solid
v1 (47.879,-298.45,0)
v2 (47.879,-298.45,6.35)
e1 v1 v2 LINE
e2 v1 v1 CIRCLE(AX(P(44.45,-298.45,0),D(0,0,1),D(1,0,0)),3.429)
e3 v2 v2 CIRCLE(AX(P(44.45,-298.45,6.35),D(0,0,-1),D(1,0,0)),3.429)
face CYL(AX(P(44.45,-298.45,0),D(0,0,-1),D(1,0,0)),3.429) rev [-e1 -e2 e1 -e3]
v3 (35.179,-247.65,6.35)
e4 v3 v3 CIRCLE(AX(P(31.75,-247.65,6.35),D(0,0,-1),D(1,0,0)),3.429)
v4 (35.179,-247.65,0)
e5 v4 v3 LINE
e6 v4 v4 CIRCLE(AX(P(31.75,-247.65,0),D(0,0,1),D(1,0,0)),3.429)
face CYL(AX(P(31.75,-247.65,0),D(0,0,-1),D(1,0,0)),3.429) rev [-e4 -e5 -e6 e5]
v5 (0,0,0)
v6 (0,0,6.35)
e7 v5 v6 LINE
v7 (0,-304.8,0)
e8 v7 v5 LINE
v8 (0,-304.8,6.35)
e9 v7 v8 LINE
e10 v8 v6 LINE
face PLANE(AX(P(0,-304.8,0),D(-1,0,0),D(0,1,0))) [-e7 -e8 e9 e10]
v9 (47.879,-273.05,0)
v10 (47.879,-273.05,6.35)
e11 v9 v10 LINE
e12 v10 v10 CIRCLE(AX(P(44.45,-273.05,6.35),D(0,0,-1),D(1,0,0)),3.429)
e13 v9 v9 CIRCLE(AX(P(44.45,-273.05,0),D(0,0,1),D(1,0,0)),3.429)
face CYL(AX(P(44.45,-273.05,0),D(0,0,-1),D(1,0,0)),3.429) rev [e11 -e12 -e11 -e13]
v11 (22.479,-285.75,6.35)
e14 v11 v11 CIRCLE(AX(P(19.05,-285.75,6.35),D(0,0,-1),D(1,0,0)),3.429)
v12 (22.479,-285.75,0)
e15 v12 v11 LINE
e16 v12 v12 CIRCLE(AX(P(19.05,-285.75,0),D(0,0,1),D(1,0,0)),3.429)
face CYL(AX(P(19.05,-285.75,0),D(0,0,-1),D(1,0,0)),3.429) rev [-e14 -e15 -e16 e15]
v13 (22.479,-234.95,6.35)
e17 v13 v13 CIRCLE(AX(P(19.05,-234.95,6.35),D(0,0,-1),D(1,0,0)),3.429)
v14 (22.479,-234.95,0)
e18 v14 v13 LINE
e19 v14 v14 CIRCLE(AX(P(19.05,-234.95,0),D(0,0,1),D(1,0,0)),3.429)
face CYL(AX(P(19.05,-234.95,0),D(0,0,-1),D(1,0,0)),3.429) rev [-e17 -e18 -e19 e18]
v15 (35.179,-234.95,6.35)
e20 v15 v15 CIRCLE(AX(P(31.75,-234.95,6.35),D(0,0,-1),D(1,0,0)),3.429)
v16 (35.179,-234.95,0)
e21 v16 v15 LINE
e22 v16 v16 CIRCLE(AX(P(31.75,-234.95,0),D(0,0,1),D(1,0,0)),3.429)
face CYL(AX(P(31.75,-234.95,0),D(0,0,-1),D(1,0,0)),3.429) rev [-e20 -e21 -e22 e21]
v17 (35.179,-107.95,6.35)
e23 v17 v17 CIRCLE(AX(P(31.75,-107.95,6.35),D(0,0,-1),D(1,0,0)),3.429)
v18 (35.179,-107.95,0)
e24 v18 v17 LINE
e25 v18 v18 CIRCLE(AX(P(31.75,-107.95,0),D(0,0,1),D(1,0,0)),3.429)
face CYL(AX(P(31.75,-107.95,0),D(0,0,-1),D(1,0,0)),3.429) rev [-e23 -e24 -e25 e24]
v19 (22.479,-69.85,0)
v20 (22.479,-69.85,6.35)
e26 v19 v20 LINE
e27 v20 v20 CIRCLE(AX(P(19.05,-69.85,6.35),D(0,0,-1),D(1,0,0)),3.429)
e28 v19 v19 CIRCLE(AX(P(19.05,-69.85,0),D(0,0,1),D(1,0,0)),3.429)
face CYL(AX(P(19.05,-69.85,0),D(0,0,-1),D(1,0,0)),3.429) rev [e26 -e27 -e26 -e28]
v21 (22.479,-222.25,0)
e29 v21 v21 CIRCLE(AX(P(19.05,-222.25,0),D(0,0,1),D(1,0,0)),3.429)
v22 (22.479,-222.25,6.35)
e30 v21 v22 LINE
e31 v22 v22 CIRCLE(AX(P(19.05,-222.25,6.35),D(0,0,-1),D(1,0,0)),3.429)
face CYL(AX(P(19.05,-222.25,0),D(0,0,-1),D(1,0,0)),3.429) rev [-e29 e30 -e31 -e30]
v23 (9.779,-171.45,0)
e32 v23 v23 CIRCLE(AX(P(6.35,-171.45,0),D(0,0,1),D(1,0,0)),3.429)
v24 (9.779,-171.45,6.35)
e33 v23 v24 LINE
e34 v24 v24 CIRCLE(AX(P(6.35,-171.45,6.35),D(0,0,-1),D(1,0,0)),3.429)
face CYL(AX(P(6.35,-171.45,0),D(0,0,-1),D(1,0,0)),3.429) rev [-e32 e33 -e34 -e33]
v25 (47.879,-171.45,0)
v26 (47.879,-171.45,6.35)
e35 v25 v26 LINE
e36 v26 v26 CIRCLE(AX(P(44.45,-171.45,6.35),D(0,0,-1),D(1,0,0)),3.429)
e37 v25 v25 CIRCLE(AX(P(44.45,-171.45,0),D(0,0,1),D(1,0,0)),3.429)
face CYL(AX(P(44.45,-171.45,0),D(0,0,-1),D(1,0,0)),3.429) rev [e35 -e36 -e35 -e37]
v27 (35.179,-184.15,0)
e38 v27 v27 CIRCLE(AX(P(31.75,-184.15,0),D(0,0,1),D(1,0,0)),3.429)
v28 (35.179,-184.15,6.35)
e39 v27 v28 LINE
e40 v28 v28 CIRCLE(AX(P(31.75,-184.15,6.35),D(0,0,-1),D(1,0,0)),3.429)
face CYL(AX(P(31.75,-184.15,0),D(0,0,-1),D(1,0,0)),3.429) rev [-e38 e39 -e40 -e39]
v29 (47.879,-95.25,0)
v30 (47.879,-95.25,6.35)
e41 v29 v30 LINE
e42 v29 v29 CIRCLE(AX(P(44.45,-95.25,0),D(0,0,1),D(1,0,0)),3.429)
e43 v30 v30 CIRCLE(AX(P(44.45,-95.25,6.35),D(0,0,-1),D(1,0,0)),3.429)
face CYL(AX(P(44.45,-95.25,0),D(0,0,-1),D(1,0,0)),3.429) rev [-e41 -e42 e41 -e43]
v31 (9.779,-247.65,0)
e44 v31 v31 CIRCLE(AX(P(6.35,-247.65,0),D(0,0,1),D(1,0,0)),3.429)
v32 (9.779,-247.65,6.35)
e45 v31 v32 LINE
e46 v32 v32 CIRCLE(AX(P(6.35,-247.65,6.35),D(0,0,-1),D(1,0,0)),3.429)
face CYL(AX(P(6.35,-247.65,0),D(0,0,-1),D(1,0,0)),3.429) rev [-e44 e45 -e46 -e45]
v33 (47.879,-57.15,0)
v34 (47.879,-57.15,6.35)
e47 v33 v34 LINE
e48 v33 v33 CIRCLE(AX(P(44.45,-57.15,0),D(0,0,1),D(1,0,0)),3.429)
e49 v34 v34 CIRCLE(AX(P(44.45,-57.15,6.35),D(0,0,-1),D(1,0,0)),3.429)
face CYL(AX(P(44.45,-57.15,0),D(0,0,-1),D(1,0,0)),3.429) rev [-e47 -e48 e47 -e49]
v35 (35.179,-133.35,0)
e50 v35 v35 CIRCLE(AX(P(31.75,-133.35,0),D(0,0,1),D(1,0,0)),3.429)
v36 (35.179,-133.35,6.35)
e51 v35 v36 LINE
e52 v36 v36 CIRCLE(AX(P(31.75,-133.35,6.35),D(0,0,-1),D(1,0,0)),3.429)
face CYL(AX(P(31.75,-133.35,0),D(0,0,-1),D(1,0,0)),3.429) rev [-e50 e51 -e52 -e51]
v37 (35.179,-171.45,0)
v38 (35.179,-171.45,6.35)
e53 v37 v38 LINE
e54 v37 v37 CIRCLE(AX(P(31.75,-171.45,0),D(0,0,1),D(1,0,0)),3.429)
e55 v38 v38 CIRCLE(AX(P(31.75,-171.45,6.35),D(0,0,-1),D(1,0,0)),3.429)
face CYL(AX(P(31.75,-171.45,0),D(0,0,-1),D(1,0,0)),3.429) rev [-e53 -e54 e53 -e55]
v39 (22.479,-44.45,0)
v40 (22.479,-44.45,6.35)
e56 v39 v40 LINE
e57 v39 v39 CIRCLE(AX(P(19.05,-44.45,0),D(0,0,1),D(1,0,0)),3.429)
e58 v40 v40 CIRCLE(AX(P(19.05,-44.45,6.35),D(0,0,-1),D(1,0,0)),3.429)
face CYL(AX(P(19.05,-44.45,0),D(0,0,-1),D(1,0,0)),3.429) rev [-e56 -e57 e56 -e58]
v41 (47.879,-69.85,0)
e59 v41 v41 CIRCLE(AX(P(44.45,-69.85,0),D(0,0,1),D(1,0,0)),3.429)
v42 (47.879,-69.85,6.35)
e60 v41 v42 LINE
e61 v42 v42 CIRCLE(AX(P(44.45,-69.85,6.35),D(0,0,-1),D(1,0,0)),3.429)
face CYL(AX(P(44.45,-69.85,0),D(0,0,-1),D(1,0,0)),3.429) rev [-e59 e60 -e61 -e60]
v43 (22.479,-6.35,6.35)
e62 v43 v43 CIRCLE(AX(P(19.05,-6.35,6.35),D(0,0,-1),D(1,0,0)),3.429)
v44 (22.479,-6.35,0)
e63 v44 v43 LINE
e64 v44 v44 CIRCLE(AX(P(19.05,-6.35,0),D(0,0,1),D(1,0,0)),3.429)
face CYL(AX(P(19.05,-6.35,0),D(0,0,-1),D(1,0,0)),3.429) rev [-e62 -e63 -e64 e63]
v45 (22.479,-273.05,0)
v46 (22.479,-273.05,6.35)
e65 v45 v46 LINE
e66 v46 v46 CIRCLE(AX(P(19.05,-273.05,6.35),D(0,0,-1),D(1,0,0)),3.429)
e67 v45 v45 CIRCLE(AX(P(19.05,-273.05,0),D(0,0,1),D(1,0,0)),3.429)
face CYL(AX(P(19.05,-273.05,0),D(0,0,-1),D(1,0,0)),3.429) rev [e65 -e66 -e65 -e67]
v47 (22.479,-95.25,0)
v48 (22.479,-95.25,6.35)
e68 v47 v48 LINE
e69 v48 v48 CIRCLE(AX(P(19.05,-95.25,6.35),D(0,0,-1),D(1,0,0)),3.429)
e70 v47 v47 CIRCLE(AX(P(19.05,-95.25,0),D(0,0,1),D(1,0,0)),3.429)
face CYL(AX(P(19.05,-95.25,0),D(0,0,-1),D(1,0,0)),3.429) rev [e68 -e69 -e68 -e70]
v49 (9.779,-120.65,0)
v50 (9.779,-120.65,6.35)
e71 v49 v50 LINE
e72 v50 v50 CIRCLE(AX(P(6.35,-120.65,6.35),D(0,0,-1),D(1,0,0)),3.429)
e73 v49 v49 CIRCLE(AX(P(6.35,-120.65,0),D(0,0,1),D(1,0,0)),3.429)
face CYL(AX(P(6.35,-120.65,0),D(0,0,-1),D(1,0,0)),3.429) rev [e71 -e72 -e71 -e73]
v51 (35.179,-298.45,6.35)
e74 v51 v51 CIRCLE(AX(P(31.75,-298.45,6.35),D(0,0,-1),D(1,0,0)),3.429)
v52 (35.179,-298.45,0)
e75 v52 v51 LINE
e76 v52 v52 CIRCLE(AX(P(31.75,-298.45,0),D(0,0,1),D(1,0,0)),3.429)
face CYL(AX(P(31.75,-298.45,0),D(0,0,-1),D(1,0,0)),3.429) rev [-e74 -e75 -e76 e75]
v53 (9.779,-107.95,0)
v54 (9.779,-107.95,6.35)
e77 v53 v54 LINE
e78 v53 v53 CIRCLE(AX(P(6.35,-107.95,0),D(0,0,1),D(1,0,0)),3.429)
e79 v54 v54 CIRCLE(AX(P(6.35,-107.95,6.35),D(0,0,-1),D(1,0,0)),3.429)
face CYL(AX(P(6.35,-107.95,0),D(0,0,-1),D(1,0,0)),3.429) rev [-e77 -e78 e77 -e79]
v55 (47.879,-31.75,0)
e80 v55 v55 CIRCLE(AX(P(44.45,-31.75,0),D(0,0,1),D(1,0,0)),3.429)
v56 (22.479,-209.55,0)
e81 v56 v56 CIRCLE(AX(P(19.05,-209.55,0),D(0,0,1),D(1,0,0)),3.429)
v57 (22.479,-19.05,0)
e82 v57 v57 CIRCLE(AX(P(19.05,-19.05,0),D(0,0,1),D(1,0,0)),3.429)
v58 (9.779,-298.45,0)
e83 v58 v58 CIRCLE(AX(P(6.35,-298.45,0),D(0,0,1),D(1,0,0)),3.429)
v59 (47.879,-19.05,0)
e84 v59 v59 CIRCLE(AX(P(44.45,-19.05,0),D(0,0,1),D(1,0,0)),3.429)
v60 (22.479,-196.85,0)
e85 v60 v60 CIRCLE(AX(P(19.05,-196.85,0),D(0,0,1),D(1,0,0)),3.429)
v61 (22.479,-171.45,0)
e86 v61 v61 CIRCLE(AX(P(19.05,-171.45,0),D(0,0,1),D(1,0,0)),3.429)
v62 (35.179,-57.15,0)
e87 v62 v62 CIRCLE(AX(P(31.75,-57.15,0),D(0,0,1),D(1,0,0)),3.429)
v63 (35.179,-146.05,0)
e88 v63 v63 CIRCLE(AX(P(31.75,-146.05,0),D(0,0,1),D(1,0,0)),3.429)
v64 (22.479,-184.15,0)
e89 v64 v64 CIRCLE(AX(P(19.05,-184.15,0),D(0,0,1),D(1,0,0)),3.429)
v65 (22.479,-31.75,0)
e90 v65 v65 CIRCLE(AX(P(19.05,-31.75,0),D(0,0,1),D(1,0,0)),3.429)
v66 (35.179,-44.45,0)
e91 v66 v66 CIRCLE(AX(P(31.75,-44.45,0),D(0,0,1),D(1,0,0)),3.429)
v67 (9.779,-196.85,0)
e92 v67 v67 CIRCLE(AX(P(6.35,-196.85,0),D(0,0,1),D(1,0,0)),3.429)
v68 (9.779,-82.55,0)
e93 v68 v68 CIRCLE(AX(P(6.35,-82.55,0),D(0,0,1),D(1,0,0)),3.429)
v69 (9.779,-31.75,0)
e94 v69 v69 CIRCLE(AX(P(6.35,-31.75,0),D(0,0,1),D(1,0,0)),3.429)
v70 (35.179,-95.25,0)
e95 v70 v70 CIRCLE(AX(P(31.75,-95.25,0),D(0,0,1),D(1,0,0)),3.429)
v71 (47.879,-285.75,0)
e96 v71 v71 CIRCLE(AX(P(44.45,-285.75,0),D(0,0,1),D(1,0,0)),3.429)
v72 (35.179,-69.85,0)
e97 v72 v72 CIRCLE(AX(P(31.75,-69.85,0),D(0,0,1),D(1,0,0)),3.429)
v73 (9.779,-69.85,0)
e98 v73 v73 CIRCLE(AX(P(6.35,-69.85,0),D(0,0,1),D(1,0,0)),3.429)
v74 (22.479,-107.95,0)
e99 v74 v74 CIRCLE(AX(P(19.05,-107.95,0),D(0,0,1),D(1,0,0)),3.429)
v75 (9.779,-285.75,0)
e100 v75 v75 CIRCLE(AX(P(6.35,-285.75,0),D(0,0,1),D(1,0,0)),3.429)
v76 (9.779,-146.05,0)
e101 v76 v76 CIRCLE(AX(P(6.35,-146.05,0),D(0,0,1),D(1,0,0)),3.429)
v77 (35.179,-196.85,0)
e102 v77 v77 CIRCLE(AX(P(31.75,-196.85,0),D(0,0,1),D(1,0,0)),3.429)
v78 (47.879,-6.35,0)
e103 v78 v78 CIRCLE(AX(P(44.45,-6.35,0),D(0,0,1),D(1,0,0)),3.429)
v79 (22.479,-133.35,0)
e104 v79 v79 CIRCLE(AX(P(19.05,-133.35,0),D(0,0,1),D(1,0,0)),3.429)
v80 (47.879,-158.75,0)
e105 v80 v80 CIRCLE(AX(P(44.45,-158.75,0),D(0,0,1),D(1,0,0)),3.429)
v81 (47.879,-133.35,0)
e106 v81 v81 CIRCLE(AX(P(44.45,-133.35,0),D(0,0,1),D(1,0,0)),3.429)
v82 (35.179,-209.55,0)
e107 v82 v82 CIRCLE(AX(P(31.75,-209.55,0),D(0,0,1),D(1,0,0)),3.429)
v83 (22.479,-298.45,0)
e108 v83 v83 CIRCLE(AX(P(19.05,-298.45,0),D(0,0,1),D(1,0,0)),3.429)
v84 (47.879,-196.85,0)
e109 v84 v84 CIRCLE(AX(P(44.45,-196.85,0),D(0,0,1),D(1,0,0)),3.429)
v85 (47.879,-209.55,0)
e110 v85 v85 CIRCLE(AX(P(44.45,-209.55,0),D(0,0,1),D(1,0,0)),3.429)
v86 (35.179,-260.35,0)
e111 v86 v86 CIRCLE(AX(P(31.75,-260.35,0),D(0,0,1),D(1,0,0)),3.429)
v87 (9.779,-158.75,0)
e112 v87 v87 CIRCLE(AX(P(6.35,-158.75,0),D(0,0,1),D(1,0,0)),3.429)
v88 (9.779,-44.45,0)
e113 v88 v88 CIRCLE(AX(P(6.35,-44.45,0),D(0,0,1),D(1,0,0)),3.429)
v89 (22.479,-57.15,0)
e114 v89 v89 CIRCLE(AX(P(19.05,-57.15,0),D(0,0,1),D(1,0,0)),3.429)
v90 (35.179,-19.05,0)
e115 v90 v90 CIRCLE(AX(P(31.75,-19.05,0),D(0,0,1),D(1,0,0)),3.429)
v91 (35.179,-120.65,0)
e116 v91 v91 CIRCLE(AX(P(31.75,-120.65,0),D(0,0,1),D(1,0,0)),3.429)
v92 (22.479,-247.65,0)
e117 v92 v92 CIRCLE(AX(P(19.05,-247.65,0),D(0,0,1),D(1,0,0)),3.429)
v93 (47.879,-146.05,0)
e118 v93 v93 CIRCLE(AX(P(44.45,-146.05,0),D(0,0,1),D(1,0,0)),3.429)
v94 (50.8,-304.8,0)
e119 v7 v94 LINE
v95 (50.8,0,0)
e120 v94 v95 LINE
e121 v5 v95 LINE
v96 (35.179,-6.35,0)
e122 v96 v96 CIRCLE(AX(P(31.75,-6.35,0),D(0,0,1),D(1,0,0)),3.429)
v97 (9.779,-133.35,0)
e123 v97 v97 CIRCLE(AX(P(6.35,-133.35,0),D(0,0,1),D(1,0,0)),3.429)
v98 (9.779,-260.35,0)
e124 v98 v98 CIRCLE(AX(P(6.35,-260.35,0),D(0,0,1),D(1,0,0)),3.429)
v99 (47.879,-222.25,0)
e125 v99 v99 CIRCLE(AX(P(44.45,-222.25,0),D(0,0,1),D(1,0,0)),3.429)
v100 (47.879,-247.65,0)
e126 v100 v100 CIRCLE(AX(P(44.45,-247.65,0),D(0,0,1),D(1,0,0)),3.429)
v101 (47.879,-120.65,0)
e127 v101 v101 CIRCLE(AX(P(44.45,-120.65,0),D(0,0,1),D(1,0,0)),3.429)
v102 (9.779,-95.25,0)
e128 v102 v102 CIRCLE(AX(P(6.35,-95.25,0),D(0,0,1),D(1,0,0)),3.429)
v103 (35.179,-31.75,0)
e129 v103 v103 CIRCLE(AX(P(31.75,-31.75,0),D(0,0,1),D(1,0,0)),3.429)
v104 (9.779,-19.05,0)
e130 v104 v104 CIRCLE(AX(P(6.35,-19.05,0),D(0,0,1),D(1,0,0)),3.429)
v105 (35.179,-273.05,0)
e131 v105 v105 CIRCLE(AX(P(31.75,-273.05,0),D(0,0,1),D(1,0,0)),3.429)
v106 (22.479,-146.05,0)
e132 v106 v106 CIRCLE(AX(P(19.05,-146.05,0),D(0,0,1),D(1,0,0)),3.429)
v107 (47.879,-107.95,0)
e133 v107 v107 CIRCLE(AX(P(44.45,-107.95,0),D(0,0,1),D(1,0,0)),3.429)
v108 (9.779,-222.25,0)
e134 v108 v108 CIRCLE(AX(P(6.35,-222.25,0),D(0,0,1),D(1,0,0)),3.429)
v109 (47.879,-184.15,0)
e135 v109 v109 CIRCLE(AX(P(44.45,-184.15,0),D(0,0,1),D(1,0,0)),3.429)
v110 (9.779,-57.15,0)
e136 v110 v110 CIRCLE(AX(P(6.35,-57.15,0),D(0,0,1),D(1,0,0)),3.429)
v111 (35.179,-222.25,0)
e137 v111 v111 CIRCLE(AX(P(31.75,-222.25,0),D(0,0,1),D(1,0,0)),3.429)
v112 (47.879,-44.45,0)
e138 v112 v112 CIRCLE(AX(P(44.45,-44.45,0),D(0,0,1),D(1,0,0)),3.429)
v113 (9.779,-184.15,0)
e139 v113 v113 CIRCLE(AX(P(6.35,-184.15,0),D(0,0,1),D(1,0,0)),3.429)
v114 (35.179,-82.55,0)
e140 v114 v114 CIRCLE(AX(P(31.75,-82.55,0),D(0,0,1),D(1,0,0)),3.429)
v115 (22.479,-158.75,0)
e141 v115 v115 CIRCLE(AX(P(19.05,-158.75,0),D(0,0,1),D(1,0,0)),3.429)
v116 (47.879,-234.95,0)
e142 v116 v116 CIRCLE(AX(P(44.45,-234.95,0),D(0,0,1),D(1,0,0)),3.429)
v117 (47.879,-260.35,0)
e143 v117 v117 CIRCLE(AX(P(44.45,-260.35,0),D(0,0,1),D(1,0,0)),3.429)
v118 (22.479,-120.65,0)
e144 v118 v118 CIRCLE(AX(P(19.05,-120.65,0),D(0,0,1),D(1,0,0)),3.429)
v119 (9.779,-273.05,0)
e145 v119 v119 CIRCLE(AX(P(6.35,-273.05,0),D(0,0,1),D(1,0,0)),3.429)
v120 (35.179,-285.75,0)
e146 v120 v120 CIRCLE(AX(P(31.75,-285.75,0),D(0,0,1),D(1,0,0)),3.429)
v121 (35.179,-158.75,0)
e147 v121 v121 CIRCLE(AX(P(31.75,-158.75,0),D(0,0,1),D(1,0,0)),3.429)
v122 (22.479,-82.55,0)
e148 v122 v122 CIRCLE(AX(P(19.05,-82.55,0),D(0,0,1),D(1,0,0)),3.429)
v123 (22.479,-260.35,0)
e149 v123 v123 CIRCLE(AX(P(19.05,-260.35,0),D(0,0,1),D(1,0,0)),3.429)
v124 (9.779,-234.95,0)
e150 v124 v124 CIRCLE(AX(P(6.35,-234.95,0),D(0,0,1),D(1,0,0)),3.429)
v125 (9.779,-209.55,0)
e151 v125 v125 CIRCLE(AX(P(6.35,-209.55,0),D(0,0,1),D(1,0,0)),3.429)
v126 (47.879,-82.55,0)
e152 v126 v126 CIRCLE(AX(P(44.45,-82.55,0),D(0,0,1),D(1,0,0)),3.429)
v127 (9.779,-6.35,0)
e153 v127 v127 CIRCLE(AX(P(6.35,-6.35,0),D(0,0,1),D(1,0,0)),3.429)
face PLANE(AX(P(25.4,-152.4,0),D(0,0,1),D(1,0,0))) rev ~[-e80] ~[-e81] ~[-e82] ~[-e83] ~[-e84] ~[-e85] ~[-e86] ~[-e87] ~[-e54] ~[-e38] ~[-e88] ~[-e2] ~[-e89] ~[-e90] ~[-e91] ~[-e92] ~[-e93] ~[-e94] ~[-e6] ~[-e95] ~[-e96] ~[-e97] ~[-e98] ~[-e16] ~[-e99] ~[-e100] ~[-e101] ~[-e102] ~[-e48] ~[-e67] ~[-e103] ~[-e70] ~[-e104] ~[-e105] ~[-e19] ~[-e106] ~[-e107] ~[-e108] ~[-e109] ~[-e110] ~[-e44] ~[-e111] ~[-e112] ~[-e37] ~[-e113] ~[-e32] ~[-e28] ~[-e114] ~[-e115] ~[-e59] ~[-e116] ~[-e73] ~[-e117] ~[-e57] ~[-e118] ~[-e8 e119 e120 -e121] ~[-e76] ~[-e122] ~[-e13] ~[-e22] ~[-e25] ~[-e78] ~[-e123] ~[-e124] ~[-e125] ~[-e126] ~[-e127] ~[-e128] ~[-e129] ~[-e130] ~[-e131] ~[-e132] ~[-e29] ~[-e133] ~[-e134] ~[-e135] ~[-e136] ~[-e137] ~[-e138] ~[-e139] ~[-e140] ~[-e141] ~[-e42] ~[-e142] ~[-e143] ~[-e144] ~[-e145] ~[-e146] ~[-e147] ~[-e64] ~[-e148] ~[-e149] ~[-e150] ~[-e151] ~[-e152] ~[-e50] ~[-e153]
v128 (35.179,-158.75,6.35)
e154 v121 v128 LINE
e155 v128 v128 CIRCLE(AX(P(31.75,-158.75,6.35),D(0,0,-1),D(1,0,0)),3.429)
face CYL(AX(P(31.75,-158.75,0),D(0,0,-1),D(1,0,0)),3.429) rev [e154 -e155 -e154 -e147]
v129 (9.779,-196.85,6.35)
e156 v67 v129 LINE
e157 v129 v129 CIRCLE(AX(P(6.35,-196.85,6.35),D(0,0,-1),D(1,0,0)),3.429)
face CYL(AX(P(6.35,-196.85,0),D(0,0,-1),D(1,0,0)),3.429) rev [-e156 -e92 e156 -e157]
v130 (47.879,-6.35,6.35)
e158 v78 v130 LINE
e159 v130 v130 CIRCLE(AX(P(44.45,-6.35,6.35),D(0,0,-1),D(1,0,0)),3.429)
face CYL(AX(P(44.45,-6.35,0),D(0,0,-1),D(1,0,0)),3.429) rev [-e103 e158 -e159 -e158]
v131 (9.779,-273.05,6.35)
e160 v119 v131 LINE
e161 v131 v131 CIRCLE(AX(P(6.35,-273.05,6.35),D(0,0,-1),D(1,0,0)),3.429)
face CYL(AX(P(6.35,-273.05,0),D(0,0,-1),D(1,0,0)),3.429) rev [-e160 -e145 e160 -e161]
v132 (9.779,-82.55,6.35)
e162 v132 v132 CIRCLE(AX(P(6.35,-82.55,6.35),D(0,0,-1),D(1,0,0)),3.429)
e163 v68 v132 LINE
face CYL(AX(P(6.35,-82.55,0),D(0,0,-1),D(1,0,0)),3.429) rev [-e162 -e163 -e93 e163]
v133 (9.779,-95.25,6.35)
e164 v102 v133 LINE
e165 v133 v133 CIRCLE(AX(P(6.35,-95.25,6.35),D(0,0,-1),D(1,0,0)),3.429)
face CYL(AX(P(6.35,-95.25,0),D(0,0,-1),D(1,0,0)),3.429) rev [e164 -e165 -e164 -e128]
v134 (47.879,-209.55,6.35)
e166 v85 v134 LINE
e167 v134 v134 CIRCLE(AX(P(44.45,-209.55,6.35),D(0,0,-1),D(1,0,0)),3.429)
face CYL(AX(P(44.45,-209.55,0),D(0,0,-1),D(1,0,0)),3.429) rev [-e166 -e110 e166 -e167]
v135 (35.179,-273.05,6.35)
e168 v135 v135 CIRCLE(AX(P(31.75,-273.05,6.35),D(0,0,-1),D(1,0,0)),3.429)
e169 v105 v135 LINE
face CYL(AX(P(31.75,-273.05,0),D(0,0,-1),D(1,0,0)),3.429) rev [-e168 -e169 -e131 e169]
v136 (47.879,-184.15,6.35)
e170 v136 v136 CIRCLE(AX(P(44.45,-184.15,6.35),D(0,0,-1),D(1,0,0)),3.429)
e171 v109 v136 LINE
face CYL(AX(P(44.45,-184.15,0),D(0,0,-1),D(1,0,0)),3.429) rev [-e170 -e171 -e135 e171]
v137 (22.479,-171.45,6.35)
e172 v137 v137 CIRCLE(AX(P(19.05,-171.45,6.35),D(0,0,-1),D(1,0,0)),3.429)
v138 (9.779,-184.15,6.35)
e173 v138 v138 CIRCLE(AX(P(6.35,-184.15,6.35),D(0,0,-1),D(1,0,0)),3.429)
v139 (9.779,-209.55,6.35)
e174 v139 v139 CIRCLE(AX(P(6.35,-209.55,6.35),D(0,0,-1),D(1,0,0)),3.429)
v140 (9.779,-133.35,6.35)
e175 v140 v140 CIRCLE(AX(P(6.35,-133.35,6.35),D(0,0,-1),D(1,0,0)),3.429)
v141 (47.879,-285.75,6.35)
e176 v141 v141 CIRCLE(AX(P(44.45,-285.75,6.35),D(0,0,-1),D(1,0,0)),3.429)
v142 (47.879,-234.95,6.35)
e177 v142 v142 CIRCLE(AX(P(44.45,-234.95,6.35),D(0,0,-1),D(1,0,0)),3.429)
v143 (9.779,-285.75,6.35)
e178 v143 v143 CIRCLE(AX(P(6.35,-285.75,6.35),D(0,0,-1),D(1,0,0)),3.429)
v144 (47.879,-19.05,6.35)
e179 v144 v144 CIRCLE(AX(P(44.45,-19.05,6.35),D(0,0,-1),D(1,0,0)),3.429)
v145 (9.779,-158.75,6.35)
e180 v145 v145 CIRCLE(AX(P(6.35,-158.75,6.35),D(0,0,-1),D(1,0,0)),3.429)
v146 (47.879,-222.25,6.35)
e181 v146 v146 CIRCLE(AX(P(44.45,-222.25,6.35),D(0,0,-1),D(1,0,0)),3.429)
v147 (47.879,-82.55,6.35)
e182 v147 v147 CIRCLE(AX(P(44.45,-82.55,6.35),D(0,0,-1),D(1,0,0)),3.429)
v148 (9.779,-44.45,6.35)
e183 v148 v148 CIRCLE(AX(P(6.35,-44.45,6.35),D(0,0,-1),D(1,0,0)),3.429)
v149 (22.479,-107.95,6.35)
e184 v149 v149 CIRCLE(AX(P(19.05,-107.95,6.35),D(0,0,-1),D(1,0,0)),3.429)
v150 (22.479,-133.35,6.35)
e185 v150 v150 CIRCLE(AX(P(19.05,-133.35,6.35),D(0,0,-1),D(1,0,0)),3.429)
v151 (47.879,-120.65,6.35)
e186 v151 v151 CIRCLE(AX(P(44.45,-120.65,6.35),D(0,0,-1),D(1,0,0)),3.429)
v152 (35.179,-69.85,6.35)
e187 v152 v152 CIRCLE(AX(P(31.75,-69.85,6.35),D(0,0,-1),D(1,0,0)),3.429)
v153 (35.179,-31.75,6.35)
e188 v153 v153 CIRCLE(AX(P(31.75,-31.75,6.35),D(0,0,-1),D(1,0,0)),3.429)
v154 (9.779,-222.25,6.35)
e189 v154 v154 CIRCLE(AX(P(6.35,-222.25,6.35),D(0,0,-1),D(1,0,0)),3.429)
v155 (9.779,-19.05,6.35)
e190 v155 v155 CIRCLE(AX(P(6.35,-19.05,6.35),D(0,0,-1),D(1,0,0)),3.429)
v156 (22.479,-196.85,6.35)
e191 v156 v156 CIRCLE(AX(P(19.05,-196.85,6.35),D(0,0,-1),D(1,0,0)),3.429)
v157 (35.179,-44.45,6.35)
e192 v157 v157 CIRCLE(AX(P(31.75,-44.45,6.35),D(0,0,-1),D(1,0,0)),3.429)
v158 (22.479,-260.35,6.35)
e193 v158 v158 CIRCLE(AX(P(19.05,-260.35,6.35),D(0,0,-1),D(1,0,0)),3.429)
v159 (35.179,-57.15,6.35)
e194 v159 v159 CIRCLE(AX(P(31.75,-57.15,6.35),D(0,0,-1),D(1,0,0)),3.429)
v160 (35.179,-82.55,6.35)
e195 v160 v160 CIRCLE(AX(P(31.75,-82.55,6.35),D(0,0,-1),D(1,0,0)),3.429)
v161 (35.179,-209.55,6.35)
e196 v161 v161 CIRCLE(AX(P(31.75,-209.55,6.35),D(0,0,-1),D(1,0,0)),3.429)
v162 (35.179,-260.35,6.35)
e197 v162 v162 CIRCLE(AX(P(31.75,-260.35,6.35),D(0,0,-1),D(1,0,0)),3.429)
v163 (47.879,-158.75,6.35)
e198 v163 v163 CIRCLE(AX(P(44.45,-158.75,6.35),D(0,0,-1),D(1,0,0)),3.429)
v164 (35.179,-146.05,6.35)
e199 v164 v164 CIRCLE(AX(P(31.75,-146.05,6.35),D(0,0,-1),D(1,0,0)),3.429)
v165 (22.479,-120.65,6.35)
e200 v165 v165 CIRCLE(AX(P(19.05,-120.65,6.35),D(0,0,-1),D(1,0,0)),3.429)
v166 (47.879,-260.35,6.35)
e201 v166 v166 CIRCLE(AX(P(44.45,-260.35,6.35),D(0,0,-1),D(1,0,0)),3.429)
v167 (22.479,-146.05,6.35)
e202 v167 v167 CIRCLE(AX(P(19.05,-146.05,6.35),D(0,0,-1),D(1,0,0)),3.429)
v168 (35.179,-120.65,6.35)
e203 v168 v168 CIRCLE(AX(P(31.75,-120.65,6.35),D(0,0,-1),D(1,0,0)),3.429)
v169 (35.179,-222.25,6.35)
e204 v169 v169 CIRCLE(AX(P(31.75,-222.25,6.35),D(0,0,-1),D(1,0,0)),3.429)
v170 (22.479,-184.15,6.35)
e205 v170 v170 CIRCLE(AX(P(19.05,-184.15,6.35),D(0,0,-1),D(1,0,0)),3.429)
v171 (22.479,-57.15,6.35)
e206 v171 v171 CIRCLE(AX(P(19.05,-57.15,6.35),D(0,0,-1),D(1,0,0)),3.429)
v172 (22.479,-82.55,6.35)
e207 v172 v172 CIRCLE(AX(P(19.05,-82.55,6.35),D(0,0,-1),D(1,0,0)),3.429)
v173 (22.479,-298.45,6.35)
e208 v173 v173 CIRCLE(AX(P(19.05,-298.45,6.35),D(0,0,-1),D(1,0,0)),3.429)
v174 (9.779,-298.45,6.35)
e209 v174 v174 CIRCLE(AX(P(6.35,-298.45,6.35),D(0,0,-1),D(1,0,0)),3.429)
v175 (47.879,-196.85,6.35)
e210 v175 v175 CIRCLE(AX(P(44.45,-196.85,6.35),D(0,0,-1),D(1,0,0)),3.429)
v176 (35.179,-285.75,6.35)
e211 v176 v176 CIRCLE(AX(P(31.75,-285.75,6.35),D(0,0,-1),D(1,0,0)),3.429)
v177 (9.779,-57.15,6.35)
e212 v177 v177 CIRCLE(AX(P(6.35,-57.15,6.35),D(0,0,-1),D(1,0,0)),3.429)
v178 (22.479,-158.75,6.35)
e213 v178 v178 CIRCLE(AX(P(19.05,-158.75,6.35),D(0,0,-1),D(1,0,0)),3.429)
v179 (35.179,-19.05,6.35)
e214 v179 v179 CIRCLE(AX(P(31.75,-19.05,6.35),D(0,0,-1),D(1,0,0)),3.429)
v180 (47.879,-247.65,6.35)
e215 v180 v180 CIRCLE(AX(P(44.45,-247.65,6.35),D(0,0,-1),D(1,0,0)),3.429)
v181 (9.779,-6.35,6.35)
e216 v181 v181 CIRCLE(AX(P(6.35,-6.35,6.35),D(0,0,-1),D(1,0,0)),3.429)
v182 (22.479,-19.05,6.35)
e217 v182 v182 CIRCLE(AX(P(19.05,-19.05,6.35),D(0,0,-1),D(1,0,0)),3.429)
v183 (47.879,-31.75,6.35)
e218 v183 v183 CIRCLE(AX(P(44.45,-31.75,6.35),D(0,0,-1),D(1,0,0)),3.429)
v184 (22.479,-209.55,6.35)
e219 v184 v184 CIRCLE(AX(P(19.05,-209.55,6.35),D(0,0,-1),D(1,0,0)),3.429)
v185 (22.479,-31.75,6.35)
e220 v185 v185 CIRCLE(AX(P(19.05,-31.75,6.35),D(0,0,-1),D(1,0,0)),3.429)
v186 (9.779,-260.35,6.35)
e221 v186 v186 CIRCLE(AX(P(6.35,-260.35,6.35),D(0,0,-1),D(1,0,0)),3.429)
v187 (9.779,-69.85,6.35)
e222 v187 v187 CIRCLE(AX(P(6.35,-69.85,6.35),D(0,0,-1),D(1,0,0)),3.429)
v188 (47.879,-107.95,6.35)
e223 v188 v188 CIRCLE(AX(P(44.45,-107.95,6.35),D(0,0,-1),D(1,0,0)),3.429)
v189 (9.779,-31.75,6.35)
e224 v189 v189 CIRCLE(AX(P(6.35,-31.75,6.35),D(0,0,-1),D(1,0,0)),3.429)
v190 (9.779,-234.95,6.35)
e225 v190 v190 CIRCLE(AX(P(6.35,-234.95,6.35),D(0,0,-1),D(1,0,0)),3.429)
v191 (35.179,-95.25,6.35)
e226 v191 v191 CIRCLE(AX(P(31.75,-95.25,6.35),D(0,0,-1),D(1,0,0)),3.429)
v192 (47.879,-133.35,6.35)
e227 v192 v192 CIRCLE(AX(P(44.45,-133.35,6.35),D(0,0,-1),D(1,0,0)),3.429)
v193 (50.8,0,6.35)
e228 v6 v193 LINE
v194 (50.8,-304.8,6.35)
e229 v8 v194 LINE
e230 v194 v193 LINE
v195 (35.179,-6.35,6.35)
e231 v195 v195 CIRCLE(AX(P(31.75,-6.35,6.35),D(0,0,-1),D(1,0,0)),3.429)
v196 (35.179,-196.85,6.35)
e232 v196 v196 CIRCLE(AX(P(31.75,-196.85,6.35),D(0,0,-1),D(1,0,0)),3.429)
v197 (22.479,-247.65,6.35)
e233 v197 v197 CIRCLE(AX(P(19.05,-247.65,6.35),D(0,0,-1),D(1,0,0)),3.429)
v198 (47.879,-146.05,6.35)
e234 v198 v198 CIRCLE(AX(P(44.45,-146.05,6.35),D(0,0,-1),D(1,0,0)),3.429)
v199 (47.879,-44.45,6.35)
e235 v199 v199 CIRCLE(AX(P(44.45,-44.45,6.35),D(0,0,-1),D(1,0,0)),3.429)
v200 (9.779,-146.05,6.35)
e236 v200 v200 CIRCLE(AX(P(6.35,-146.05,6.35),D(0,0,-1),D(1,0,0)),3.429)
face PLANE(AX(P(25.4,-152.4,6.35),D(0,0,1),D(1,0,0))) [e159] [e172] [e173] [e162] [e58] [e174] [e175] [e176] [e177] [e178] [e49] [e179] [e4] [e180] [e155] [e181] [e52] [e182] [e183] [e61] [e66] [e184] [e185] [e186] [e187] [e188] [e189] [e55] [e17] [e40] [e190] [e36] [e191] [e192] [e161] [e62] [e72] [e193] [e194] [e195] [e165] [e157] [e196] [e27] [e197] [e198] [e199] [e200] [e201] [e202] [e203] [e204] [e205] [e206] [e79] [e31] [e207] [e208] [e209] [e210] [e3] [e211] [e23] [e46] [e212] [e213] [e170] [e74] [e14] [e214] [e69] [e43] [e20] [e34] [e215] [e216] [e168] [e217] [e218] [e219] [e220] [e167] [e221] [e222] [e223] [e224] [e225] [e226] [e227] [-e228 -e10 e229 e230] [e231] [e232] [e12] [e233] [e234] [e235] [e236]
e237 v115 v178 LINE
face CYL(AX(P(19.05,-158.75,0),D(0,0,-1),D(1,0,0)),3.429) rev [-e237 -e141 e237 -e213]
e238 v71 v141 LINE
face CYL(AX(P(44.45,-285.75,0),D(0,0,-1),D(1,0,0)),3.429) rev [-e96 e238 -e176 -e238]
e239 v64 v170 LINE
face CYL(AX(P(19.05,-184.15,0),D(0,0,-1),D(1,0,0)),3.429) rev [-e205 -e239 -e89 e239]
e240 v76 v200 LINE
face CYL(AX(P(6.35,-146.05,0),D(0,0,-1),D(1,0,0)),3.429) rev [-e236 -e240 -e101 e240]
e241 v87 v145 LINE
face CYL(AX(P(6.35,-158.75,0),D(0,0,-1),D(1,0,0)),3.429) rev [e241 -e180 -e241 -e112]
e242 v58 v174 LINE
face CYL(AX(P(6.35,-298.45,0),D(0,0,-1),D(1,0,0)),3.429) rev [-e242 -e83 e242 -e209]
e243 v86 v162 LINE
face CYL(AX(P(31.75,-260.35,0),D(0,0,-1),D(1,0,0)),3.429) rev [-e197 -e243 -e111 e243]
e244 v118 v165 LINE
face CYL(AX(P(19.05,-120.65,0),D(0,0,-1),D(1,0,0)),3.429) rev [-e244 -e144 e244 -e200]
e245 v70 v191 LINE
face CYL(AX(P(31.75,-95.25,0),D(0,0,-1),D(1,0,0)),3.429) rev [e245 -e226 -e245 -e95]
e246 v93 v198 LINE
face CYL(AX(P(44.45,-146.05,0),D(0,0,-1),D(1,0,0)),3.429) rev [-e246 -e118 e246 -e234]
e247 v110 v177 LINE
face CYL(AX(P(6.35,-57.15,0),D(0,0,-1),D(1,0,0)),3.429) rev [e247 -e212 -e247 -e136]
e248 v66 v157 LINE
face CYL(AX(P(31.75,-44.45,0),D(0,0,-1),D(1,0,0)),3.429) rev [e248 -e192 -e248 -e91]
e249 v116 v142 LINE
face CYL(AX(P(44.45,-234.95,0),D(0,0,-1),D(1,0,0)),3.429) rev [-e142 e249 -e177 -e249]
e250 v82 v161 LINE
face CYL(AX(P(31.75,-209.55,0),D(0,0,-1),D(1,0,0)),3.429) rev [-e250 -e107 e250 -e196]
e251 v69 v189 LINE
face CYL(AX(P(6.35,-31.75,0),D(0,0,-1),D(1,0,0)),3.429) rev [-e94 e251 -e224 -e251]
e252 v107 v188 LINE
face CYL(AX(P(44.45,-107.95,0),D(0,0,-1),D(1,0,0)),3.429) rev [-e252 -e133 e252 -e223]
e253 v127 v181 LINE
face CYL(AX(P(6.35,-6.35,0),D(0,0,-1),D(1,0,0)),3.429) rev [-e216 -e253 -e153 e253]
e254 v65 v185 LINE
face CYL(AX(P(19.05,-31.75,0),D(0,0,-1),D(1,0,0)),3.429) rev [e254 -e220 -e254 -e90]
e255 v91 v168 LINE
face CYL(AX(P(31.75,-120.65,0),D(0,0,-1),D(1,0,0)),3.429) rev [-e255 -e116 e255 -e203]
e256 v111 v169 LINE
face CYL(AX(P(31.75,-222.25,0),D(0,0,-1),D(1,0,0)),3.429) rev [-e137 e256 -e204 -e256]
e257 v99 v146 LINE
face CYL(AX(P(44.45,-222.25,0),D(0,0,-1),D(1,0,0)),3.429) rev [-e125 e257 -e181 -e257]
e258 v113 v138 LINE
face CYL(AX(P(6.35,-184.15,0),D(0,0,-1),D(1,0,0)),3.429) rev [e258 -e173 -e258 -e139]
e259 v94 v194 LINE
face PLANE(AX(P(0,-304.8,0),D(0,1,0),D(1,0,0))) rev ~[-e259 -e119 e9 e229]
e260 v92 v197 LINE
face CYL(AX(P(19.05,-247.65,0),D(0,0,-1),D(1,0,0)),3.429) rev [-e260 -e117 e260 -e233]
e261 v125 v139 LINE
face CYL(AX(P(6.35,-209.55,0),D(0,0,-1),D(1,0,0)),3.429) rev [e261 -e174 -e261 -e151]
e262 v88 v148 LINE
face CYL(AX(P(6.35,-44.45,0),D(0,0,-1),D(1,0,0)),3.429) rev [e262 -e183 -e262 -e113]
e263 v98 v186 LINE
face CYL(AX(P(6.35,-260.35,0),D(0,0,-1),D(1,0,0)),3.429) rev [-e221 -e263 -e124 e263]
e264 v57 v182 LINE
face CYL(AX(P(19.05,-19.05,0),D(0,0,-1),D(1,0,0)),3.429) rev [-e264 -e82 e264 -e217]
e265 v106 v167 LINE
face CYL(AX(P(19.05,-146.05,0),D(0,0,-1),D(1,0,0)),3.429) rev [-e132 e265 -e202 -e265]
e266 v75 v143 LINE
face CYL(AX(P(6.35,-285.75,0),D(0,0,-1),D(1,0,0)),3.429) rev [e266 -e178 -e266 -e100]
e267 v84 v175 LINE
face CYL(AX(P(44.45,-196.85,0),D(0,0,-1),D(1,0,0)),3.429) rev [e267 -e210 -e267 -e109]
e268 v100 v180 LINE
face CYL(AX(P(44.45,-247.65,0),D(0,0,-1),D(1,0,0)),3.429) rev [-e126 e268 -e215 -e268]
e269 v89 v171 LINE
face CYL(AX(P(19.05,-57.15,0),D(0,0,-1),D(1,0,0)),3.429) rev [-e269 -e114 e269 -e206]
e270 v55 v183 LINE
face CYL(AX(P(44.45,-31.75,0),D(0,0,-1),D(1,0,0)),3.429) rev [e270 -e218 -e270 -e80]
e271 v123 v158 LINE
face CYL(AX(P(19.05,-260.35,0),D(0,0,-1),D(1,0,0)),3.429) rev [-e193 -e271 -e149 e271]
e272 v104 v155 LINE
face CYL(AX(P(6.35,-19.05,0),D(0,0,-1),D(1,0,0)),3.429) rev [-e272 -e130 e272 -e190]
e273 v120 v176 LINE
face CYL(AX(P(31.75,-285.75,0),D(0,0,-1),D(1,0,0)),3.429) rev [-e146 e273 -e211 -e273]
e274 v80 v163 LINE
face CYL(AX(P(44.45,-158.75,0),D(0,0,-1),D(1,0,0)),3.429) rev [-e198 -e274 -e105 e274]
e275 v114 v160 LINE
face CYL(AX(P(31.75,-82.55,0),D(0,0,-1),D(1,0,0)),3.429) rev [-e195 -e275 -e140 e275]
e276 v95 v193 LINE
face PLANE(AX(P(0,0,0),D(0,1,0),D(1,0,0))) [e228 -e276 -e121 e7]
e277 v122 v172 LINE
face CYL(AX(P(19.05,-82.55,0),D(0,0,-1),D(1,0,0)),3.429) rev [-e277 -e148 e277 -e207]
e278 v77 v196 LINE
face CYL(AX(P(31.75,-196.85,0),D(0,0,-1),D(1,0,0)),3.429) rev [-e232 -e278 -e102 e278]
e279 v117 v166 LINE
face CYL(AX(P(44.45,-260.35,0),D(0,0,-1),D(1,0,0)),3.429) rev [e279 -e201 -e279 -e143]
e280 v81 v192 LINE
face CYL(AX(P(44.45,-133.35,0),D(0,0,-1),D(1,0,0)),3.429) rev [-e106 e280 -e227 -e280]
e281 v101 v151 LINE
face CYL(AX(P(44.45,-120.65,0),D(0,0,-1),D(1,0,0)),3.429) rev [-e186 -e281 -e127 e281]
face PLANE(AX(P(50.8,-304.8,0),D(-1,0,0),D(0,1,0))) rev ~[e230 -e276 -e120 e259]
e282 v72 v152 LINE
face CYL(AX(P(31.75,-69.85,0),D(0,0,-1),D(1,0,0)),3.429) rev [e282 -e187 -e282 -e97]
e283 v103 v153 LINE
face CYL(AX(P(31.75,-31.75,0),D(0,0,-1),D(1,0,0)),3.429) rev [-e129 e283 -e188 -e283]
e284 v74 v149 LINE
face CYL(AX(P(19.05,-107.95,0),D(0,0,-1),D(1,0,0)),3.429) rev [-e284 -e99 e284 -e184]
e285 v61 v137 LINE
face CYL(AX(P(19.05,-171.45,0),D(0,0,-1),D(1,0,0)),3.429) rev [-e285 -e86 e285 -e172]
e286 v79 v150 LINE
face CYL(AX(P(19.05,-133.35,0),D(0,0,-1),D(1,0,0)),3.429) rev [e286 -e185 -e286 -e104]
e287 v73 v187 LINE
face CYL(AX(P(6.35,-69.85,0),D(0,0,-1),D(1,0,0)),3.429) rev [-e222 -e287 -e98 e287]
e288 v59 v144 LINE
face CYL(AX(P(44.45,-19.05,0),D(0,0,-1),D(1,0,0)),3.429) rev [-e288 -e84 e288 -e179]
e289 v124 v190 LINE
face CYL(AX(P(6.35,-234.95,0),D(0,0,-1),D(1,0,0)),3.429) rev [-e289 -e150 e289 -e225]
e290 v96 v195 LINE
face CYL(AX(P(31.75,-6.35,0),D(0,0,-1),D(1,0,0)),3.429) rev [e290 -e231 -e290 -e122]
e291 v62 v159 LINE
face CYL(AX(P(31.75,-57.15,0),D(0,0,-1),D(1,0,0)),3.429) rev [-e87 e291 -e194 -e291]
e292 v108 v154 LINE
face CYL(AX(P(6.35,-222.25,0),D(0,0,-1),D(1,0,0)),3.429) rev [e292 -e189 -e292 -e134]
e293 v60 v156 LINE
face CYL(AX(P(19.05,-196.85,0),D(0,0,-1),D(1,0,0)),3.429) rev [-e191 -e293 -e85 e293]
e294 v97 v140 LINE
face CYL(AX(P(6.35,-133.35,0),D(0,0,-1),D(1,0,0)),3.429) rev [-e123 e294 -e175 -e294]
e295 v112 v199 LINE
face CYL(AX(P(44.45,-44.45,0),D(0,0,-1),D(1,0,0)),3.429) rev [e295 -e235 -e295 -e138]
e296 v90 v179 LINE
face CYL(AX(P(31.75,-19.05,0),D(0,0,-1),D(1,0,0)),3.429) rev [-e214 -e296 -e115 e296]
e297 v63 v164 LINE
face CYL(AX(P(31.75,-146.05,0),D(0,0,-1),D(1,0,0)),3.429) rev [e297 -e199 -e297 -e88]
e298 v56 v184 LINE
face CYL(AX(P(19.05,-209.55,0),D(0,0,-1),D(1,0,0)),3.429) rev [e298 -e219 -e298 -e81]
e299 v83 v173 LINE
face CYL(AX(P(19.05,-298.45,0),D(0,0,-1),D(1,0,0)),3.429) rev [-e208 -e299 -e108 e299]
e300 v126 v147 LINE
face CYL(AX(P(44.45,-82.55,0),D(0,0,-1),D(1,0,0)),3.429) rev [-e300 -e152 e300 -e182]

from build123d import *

# Parameters (mm, degrees)
SKETCH1_W           = 50.8
SKETCH1_H           = 304.8
BOSS_EXTRUDE1_DEPTH = 6.35
SKETCH2_R           = 3.429
CUT_EXTRUDE1_DEPTH  = 310.0695755


with BuildPart() as part:
    # Sketch1 → Boss-Extrude1 (new body)
    with BuildSketch(Plane.XY):
        with Locations((25.4, -152.4)):
            Rectangle(SKETCH1_W, SKETCH1_H)
    extrude(amount=BOSS_EXTRUDE1_DEPTH)

    # Sketch2 → Cut-Extrude1 (cut, through all)
    with BuildSketch(Plane.XY):
        with Locations((6.35, -6.35)):
            Circle(SKETCH2_R)
        with Locations((19.05, -6.35)):
            Circle(SKETCH2_R)
        with Locations((31.75, -6.35)):
            Circle(SKETCH2_R)
        with Locations((44.45, -6.35)):
            Circle(SKETCH2_R)
        with Locations((19.05, -19.05)):
            Circle(SKETCH2_R)
        with Locations((31.75, -19.05)):
            Circle(SKETCH2_R)
        with Locations((44.45, -19.05)):
            Circle(SKETCH2_R)
        with Locations((19.05, -31.75)):
            Circle(SKETCH2_R)
        with Locations((31.75, -31.75)):
            Circle(SKETCH2_R)
        with Locations((44.45, -31.75)):
            Circle(SKETCH2_R)
        with Locations((19.05, -44.45)):
            Circle(SKETCH2_R)
        with Locations((31.75, -44.45)):
            Circle(SKETCH2_R)
        with Locations((44.45, -44.45)):
            Circle(SKETCH2_R)
        with Locations((19.05, -57.15)):
            Circle(SKETCH2_R)
        with Locations((31.75, -57.15)):
            Circle(SKETCH2_R)
        with Locations((44.45, -57.15)):
            Circle(SKETCH2_R)
        with Locations((19.05, -69.85)):
            Circle(SKETCH2_R)
        with Locations((31.75, -69.85)):
            Circle(SKETCH2_R)
        with Locations((44.45, -69.85)):
            Circle(SKETCH2_R)
        with Locations((19.05, -82.55)):
            Circle(SKETCH2_R)
        with Locations((31.75, -82.55)):
            Circle(SKETCH2_R)
        with Locations((44.45, -82.55)):
            Circle(SKETCH2_R)
        with Locations((19.05, -95.25)):
            Circle(SKETCH2_R)
        with Locations((31.75, -95.25)):
            Circle(SKETCH2_R)
        with Locations((44.45, -95.25)):
            Circle(SKETCH2_R)
        with Locations((19.05, -107.95)):
            Circle(SKETCH2_R)
        with Locations((31.75, -107.95)):
            Circle(SKETCH2_R)
        with Locations((44.45, -107.95)):
            Circle(SKETCH2_R)
        with Locations((19.05, -120.65)):
            Circle(SKETCH2_R)
        with Locations((31.75, -120.65)):
            Circle(SKETCH2_R)
        with Locations((44.45, -120.65)):
            Circle(SKETCH2_R)
        with Locations((19.05, -133.35)):
            Circle(SKETCH2_R)
        with Locations((31.75, -133.35)):
            Circle(SKETCH2_R)
        with Locations((44.45, -133.35)):
            Circle(SKETCH2_R)
        with Locations((19.05, -146.05)):
            Circle(SKETCH2_R)
        with Locations((31.75, -146.05)):
            Circle(SKETCH2_R)
        with Locations((44.45, -146.05)):
            Circle(SKETCH2_R)
        with Locations((19.05, -158.75)):
            Circle(SKETCH2_R)
        with Locations((31.75, -158.75)):
            Circle(SKETCH2_R)
        with Locations((44.45, -158.75)):
            Circle(SKETCH2_R)
        with Locations((19.05, -171.45)):
            Circle(SKETCH2_R)
        with Locations((31.75, -171.45)):
            Circle(SKETCH2_R)
        with Locations((44.45, -171.45)):
            Circle(SKETCH2_R)
        with Locations((19.05, -184.15)):
            Circle(SKETCH2_R)
        with Locations((31.75, -184.15)):
            Circle(SKETCH2_R)
        with Locations((44.45, -184.15)):
            Circle(SKETCH2_R)
        with Locations((19.05, -196.85)):
            Circle(SKETCH2_R)
        with Locations((31.75, -196.85)):
            Circle(SKETCH2_R)
        with Locations((44.45, -196.85)):
            Circle(SKETCH2_R)
        with Locations((19.05, -209.55)):
            Circle(SKETCH2_R)
        with Locations((31.75, -209.55)):
            Circle(SKETCH2_R)
        with Locations((44.45, -209.55)):
            Circle(SKETCH2_R)
        with Locations((19.05, -222.25)):
            Circle(SKETCH2_R)
        with Locations((31.75, -222.25)):
            Circle(SKETCH2_R)
        with Locations((44.45, -222.25)):
            Circle(SKETCH2_R)
        with Locations((19.05, -234.95)):
            Circle(SKETCH2_R)
        with Locations((31.75, -234.95)):
            Circle(SKETCH2_R)
        with Locations((44.45, -234.95)):
            Circle(SKETCH2_R)
        with Locations((19.05, -247.65)):
            Circle(SKETCH2_R)
        with Locations((31.75, -247.65)):
            Circle(SKETCH2_R)
        with Locations((44.45, -247.65)):
            Circle(SKETCH2_R)
        with Locations((19.05, -260.35)):
            Circle(SKETCH2_R)
        with Locations((31.75, -260.35)):
            Circle(SKETCH2_R)
        with Locations((44.45, -260.35)):
            Circle(SKETCH2_R)
        with Locations((19.05, -273.05)):
            Circle(SKETCH2_R)
        with Locations((31.75, -273.05)):
            Circle(SKETCH2_R)
        with Locations((44.45, -273.05)):
            Circle(SKETCH2_R)
        with Locations((19.05, -285.75)):
            Circle(SKETCH2_R)
        with Locations((31.75, -285.75)):
            Circle(SKETCH2_R)
        with Locations((44.45, -285.75)):
            Circle(SKETCH2_R)
        with Locations((19.05, -298.45)):
            Circle(SKETCH2_R)
        with Locations((31.75, -298.45)):
            Circle(SKETCH2_R)
        with Locations((44.45, -298.45)):
            Circle(SKETCH2_R)
        with Locations((19.05, -311.15)):
            Circle(SKETCH2_R)
        with Locations((31.75, -311.15)):
            Circle(SKETCH2_R)
        with Locations((44.45, -311.15)):
            Circle(SKETCH2_R)
        with Locations((19.05, -323.85)):
            Circle(SKETCH2_R)
        with Locations((31.75, -323.85)):
            Circle(SKETCH2_R)
        with Locations((44.45, -323.85)):
            Circle(SKETCH2_R)
        with Locations((19.05, -336.55)):
            Circle(SKETCH2_R)
        with Locations((31.75, -336.55)):
            Circle(SKETCH2_R)
        with Locations((44.45, -336.55)):
            Circle(SKETCH2_R)
        with Locations((19.05, -349.25)):
            Circle(SKETCH2_R)
        with Locations((31.75, -349.25)):
            Circle(SKETCH2_R)
        with Locations((44.45, -349.25)):
            Circle(SKETCH2_R)
        with Locations((19.05, -361.95)):
            Circle(SKETCH2_R)
        with Locations((31.75, -361.95)):
            Circle(SKETCH2_R)
        with Locations((44.45, -361.95)):
            Circle(SKETCH2_R)
        with Locations((19.05, -374.65)):
            Circle(SKETCH2_R)
        with Locations((31.75, -374.65)):
            Circle(SKETCH2_R)
        with Locations((44.45, -374.65)):
            Circle(SKETCH2_R)
        with Locations((6.35, -19.05)):
            Circle(SKETCH2_R)
        with Locations((6.35, -31.75)):
            Circle(SKETCH2_R)
        with Locations((6.35, -44.45)):
            Circle(SKETCH2_R)
        with Locations((6.35, -57.15)):
            Circle(SKETCH2_R)
        with Locations((6.35, -69.85)):
            Circle(SKETCH2_R)
        with Locations((6.35, -82.55)):
            Circle(SKETCH2_R)
        with Locations((6.35, -95.25)):
            Circle(SKETCH2_R)
        with Locations((6.35, -107.95)):
            Circle(SKETCH2_R)
        with Locations((6.35, -120.65)):
            Circle(SKETCH2_R)
        with Locations((6.35, -133.35)):
            Circle(SKETCH2_R)
        with Locations((6.35, -146.05)):
            Circle(SKETCH2_R)
        with Locations((6.35, -158.75)):
            Circle(SKETCH2_R)
        with Locations((6.35, -171.45)):
            Circle(SKETCH2_R)
        with Locations((6.35, -184.15)):
            Circle(SKETCH2_R)
        with Locations((6.35, -196.85)):
            Circle(SKETCH2_R)
        with Locations((6.35, -209.55)):
            Circle(SKETCH2_R)
        with Locations((6.35, -222.25)):
            Circle(SKETCH2_R)
        with Locations((6.35, -234.95)):
            Circle(SKETCH2_R)
        with Locations((6.35, -247.65)):
            Circle(SKETCH2_R)
        with Locations((6.35, -260.35)):
            Circle(SKETCH2_R)
        with Locations((6.35, -273.05)):
            Circle(SKETCH2_R)
        with Locations((6.35, -285.75)):
            Circle(SKETCH2_R)
        with Locations((6.35, -298.45)):
            Circle(SKETCH2_R)
        with Locations((6.35, -311.15)):
            Circle(SKETCH2_R)
        with Locations((6.35, -323.85)):
            Circle(SKETCH2_R)
        with Locations((6.35, -336.55)):
            Circle(SKETCH2_R)
        with Locations((6.35, -349.25)):
            Circle(SKETCH2_R)
        with Locations((6.35, -361.95)):
            Circle(SKETCH2_R)
        with Locations((6.35, -374.65)):
            Circle(SKETCH2_R)
    extrude(amount=CUT_EXTRUDE1_DEPTH, mode=Mode.SUBTRACT)


solid = part.part
